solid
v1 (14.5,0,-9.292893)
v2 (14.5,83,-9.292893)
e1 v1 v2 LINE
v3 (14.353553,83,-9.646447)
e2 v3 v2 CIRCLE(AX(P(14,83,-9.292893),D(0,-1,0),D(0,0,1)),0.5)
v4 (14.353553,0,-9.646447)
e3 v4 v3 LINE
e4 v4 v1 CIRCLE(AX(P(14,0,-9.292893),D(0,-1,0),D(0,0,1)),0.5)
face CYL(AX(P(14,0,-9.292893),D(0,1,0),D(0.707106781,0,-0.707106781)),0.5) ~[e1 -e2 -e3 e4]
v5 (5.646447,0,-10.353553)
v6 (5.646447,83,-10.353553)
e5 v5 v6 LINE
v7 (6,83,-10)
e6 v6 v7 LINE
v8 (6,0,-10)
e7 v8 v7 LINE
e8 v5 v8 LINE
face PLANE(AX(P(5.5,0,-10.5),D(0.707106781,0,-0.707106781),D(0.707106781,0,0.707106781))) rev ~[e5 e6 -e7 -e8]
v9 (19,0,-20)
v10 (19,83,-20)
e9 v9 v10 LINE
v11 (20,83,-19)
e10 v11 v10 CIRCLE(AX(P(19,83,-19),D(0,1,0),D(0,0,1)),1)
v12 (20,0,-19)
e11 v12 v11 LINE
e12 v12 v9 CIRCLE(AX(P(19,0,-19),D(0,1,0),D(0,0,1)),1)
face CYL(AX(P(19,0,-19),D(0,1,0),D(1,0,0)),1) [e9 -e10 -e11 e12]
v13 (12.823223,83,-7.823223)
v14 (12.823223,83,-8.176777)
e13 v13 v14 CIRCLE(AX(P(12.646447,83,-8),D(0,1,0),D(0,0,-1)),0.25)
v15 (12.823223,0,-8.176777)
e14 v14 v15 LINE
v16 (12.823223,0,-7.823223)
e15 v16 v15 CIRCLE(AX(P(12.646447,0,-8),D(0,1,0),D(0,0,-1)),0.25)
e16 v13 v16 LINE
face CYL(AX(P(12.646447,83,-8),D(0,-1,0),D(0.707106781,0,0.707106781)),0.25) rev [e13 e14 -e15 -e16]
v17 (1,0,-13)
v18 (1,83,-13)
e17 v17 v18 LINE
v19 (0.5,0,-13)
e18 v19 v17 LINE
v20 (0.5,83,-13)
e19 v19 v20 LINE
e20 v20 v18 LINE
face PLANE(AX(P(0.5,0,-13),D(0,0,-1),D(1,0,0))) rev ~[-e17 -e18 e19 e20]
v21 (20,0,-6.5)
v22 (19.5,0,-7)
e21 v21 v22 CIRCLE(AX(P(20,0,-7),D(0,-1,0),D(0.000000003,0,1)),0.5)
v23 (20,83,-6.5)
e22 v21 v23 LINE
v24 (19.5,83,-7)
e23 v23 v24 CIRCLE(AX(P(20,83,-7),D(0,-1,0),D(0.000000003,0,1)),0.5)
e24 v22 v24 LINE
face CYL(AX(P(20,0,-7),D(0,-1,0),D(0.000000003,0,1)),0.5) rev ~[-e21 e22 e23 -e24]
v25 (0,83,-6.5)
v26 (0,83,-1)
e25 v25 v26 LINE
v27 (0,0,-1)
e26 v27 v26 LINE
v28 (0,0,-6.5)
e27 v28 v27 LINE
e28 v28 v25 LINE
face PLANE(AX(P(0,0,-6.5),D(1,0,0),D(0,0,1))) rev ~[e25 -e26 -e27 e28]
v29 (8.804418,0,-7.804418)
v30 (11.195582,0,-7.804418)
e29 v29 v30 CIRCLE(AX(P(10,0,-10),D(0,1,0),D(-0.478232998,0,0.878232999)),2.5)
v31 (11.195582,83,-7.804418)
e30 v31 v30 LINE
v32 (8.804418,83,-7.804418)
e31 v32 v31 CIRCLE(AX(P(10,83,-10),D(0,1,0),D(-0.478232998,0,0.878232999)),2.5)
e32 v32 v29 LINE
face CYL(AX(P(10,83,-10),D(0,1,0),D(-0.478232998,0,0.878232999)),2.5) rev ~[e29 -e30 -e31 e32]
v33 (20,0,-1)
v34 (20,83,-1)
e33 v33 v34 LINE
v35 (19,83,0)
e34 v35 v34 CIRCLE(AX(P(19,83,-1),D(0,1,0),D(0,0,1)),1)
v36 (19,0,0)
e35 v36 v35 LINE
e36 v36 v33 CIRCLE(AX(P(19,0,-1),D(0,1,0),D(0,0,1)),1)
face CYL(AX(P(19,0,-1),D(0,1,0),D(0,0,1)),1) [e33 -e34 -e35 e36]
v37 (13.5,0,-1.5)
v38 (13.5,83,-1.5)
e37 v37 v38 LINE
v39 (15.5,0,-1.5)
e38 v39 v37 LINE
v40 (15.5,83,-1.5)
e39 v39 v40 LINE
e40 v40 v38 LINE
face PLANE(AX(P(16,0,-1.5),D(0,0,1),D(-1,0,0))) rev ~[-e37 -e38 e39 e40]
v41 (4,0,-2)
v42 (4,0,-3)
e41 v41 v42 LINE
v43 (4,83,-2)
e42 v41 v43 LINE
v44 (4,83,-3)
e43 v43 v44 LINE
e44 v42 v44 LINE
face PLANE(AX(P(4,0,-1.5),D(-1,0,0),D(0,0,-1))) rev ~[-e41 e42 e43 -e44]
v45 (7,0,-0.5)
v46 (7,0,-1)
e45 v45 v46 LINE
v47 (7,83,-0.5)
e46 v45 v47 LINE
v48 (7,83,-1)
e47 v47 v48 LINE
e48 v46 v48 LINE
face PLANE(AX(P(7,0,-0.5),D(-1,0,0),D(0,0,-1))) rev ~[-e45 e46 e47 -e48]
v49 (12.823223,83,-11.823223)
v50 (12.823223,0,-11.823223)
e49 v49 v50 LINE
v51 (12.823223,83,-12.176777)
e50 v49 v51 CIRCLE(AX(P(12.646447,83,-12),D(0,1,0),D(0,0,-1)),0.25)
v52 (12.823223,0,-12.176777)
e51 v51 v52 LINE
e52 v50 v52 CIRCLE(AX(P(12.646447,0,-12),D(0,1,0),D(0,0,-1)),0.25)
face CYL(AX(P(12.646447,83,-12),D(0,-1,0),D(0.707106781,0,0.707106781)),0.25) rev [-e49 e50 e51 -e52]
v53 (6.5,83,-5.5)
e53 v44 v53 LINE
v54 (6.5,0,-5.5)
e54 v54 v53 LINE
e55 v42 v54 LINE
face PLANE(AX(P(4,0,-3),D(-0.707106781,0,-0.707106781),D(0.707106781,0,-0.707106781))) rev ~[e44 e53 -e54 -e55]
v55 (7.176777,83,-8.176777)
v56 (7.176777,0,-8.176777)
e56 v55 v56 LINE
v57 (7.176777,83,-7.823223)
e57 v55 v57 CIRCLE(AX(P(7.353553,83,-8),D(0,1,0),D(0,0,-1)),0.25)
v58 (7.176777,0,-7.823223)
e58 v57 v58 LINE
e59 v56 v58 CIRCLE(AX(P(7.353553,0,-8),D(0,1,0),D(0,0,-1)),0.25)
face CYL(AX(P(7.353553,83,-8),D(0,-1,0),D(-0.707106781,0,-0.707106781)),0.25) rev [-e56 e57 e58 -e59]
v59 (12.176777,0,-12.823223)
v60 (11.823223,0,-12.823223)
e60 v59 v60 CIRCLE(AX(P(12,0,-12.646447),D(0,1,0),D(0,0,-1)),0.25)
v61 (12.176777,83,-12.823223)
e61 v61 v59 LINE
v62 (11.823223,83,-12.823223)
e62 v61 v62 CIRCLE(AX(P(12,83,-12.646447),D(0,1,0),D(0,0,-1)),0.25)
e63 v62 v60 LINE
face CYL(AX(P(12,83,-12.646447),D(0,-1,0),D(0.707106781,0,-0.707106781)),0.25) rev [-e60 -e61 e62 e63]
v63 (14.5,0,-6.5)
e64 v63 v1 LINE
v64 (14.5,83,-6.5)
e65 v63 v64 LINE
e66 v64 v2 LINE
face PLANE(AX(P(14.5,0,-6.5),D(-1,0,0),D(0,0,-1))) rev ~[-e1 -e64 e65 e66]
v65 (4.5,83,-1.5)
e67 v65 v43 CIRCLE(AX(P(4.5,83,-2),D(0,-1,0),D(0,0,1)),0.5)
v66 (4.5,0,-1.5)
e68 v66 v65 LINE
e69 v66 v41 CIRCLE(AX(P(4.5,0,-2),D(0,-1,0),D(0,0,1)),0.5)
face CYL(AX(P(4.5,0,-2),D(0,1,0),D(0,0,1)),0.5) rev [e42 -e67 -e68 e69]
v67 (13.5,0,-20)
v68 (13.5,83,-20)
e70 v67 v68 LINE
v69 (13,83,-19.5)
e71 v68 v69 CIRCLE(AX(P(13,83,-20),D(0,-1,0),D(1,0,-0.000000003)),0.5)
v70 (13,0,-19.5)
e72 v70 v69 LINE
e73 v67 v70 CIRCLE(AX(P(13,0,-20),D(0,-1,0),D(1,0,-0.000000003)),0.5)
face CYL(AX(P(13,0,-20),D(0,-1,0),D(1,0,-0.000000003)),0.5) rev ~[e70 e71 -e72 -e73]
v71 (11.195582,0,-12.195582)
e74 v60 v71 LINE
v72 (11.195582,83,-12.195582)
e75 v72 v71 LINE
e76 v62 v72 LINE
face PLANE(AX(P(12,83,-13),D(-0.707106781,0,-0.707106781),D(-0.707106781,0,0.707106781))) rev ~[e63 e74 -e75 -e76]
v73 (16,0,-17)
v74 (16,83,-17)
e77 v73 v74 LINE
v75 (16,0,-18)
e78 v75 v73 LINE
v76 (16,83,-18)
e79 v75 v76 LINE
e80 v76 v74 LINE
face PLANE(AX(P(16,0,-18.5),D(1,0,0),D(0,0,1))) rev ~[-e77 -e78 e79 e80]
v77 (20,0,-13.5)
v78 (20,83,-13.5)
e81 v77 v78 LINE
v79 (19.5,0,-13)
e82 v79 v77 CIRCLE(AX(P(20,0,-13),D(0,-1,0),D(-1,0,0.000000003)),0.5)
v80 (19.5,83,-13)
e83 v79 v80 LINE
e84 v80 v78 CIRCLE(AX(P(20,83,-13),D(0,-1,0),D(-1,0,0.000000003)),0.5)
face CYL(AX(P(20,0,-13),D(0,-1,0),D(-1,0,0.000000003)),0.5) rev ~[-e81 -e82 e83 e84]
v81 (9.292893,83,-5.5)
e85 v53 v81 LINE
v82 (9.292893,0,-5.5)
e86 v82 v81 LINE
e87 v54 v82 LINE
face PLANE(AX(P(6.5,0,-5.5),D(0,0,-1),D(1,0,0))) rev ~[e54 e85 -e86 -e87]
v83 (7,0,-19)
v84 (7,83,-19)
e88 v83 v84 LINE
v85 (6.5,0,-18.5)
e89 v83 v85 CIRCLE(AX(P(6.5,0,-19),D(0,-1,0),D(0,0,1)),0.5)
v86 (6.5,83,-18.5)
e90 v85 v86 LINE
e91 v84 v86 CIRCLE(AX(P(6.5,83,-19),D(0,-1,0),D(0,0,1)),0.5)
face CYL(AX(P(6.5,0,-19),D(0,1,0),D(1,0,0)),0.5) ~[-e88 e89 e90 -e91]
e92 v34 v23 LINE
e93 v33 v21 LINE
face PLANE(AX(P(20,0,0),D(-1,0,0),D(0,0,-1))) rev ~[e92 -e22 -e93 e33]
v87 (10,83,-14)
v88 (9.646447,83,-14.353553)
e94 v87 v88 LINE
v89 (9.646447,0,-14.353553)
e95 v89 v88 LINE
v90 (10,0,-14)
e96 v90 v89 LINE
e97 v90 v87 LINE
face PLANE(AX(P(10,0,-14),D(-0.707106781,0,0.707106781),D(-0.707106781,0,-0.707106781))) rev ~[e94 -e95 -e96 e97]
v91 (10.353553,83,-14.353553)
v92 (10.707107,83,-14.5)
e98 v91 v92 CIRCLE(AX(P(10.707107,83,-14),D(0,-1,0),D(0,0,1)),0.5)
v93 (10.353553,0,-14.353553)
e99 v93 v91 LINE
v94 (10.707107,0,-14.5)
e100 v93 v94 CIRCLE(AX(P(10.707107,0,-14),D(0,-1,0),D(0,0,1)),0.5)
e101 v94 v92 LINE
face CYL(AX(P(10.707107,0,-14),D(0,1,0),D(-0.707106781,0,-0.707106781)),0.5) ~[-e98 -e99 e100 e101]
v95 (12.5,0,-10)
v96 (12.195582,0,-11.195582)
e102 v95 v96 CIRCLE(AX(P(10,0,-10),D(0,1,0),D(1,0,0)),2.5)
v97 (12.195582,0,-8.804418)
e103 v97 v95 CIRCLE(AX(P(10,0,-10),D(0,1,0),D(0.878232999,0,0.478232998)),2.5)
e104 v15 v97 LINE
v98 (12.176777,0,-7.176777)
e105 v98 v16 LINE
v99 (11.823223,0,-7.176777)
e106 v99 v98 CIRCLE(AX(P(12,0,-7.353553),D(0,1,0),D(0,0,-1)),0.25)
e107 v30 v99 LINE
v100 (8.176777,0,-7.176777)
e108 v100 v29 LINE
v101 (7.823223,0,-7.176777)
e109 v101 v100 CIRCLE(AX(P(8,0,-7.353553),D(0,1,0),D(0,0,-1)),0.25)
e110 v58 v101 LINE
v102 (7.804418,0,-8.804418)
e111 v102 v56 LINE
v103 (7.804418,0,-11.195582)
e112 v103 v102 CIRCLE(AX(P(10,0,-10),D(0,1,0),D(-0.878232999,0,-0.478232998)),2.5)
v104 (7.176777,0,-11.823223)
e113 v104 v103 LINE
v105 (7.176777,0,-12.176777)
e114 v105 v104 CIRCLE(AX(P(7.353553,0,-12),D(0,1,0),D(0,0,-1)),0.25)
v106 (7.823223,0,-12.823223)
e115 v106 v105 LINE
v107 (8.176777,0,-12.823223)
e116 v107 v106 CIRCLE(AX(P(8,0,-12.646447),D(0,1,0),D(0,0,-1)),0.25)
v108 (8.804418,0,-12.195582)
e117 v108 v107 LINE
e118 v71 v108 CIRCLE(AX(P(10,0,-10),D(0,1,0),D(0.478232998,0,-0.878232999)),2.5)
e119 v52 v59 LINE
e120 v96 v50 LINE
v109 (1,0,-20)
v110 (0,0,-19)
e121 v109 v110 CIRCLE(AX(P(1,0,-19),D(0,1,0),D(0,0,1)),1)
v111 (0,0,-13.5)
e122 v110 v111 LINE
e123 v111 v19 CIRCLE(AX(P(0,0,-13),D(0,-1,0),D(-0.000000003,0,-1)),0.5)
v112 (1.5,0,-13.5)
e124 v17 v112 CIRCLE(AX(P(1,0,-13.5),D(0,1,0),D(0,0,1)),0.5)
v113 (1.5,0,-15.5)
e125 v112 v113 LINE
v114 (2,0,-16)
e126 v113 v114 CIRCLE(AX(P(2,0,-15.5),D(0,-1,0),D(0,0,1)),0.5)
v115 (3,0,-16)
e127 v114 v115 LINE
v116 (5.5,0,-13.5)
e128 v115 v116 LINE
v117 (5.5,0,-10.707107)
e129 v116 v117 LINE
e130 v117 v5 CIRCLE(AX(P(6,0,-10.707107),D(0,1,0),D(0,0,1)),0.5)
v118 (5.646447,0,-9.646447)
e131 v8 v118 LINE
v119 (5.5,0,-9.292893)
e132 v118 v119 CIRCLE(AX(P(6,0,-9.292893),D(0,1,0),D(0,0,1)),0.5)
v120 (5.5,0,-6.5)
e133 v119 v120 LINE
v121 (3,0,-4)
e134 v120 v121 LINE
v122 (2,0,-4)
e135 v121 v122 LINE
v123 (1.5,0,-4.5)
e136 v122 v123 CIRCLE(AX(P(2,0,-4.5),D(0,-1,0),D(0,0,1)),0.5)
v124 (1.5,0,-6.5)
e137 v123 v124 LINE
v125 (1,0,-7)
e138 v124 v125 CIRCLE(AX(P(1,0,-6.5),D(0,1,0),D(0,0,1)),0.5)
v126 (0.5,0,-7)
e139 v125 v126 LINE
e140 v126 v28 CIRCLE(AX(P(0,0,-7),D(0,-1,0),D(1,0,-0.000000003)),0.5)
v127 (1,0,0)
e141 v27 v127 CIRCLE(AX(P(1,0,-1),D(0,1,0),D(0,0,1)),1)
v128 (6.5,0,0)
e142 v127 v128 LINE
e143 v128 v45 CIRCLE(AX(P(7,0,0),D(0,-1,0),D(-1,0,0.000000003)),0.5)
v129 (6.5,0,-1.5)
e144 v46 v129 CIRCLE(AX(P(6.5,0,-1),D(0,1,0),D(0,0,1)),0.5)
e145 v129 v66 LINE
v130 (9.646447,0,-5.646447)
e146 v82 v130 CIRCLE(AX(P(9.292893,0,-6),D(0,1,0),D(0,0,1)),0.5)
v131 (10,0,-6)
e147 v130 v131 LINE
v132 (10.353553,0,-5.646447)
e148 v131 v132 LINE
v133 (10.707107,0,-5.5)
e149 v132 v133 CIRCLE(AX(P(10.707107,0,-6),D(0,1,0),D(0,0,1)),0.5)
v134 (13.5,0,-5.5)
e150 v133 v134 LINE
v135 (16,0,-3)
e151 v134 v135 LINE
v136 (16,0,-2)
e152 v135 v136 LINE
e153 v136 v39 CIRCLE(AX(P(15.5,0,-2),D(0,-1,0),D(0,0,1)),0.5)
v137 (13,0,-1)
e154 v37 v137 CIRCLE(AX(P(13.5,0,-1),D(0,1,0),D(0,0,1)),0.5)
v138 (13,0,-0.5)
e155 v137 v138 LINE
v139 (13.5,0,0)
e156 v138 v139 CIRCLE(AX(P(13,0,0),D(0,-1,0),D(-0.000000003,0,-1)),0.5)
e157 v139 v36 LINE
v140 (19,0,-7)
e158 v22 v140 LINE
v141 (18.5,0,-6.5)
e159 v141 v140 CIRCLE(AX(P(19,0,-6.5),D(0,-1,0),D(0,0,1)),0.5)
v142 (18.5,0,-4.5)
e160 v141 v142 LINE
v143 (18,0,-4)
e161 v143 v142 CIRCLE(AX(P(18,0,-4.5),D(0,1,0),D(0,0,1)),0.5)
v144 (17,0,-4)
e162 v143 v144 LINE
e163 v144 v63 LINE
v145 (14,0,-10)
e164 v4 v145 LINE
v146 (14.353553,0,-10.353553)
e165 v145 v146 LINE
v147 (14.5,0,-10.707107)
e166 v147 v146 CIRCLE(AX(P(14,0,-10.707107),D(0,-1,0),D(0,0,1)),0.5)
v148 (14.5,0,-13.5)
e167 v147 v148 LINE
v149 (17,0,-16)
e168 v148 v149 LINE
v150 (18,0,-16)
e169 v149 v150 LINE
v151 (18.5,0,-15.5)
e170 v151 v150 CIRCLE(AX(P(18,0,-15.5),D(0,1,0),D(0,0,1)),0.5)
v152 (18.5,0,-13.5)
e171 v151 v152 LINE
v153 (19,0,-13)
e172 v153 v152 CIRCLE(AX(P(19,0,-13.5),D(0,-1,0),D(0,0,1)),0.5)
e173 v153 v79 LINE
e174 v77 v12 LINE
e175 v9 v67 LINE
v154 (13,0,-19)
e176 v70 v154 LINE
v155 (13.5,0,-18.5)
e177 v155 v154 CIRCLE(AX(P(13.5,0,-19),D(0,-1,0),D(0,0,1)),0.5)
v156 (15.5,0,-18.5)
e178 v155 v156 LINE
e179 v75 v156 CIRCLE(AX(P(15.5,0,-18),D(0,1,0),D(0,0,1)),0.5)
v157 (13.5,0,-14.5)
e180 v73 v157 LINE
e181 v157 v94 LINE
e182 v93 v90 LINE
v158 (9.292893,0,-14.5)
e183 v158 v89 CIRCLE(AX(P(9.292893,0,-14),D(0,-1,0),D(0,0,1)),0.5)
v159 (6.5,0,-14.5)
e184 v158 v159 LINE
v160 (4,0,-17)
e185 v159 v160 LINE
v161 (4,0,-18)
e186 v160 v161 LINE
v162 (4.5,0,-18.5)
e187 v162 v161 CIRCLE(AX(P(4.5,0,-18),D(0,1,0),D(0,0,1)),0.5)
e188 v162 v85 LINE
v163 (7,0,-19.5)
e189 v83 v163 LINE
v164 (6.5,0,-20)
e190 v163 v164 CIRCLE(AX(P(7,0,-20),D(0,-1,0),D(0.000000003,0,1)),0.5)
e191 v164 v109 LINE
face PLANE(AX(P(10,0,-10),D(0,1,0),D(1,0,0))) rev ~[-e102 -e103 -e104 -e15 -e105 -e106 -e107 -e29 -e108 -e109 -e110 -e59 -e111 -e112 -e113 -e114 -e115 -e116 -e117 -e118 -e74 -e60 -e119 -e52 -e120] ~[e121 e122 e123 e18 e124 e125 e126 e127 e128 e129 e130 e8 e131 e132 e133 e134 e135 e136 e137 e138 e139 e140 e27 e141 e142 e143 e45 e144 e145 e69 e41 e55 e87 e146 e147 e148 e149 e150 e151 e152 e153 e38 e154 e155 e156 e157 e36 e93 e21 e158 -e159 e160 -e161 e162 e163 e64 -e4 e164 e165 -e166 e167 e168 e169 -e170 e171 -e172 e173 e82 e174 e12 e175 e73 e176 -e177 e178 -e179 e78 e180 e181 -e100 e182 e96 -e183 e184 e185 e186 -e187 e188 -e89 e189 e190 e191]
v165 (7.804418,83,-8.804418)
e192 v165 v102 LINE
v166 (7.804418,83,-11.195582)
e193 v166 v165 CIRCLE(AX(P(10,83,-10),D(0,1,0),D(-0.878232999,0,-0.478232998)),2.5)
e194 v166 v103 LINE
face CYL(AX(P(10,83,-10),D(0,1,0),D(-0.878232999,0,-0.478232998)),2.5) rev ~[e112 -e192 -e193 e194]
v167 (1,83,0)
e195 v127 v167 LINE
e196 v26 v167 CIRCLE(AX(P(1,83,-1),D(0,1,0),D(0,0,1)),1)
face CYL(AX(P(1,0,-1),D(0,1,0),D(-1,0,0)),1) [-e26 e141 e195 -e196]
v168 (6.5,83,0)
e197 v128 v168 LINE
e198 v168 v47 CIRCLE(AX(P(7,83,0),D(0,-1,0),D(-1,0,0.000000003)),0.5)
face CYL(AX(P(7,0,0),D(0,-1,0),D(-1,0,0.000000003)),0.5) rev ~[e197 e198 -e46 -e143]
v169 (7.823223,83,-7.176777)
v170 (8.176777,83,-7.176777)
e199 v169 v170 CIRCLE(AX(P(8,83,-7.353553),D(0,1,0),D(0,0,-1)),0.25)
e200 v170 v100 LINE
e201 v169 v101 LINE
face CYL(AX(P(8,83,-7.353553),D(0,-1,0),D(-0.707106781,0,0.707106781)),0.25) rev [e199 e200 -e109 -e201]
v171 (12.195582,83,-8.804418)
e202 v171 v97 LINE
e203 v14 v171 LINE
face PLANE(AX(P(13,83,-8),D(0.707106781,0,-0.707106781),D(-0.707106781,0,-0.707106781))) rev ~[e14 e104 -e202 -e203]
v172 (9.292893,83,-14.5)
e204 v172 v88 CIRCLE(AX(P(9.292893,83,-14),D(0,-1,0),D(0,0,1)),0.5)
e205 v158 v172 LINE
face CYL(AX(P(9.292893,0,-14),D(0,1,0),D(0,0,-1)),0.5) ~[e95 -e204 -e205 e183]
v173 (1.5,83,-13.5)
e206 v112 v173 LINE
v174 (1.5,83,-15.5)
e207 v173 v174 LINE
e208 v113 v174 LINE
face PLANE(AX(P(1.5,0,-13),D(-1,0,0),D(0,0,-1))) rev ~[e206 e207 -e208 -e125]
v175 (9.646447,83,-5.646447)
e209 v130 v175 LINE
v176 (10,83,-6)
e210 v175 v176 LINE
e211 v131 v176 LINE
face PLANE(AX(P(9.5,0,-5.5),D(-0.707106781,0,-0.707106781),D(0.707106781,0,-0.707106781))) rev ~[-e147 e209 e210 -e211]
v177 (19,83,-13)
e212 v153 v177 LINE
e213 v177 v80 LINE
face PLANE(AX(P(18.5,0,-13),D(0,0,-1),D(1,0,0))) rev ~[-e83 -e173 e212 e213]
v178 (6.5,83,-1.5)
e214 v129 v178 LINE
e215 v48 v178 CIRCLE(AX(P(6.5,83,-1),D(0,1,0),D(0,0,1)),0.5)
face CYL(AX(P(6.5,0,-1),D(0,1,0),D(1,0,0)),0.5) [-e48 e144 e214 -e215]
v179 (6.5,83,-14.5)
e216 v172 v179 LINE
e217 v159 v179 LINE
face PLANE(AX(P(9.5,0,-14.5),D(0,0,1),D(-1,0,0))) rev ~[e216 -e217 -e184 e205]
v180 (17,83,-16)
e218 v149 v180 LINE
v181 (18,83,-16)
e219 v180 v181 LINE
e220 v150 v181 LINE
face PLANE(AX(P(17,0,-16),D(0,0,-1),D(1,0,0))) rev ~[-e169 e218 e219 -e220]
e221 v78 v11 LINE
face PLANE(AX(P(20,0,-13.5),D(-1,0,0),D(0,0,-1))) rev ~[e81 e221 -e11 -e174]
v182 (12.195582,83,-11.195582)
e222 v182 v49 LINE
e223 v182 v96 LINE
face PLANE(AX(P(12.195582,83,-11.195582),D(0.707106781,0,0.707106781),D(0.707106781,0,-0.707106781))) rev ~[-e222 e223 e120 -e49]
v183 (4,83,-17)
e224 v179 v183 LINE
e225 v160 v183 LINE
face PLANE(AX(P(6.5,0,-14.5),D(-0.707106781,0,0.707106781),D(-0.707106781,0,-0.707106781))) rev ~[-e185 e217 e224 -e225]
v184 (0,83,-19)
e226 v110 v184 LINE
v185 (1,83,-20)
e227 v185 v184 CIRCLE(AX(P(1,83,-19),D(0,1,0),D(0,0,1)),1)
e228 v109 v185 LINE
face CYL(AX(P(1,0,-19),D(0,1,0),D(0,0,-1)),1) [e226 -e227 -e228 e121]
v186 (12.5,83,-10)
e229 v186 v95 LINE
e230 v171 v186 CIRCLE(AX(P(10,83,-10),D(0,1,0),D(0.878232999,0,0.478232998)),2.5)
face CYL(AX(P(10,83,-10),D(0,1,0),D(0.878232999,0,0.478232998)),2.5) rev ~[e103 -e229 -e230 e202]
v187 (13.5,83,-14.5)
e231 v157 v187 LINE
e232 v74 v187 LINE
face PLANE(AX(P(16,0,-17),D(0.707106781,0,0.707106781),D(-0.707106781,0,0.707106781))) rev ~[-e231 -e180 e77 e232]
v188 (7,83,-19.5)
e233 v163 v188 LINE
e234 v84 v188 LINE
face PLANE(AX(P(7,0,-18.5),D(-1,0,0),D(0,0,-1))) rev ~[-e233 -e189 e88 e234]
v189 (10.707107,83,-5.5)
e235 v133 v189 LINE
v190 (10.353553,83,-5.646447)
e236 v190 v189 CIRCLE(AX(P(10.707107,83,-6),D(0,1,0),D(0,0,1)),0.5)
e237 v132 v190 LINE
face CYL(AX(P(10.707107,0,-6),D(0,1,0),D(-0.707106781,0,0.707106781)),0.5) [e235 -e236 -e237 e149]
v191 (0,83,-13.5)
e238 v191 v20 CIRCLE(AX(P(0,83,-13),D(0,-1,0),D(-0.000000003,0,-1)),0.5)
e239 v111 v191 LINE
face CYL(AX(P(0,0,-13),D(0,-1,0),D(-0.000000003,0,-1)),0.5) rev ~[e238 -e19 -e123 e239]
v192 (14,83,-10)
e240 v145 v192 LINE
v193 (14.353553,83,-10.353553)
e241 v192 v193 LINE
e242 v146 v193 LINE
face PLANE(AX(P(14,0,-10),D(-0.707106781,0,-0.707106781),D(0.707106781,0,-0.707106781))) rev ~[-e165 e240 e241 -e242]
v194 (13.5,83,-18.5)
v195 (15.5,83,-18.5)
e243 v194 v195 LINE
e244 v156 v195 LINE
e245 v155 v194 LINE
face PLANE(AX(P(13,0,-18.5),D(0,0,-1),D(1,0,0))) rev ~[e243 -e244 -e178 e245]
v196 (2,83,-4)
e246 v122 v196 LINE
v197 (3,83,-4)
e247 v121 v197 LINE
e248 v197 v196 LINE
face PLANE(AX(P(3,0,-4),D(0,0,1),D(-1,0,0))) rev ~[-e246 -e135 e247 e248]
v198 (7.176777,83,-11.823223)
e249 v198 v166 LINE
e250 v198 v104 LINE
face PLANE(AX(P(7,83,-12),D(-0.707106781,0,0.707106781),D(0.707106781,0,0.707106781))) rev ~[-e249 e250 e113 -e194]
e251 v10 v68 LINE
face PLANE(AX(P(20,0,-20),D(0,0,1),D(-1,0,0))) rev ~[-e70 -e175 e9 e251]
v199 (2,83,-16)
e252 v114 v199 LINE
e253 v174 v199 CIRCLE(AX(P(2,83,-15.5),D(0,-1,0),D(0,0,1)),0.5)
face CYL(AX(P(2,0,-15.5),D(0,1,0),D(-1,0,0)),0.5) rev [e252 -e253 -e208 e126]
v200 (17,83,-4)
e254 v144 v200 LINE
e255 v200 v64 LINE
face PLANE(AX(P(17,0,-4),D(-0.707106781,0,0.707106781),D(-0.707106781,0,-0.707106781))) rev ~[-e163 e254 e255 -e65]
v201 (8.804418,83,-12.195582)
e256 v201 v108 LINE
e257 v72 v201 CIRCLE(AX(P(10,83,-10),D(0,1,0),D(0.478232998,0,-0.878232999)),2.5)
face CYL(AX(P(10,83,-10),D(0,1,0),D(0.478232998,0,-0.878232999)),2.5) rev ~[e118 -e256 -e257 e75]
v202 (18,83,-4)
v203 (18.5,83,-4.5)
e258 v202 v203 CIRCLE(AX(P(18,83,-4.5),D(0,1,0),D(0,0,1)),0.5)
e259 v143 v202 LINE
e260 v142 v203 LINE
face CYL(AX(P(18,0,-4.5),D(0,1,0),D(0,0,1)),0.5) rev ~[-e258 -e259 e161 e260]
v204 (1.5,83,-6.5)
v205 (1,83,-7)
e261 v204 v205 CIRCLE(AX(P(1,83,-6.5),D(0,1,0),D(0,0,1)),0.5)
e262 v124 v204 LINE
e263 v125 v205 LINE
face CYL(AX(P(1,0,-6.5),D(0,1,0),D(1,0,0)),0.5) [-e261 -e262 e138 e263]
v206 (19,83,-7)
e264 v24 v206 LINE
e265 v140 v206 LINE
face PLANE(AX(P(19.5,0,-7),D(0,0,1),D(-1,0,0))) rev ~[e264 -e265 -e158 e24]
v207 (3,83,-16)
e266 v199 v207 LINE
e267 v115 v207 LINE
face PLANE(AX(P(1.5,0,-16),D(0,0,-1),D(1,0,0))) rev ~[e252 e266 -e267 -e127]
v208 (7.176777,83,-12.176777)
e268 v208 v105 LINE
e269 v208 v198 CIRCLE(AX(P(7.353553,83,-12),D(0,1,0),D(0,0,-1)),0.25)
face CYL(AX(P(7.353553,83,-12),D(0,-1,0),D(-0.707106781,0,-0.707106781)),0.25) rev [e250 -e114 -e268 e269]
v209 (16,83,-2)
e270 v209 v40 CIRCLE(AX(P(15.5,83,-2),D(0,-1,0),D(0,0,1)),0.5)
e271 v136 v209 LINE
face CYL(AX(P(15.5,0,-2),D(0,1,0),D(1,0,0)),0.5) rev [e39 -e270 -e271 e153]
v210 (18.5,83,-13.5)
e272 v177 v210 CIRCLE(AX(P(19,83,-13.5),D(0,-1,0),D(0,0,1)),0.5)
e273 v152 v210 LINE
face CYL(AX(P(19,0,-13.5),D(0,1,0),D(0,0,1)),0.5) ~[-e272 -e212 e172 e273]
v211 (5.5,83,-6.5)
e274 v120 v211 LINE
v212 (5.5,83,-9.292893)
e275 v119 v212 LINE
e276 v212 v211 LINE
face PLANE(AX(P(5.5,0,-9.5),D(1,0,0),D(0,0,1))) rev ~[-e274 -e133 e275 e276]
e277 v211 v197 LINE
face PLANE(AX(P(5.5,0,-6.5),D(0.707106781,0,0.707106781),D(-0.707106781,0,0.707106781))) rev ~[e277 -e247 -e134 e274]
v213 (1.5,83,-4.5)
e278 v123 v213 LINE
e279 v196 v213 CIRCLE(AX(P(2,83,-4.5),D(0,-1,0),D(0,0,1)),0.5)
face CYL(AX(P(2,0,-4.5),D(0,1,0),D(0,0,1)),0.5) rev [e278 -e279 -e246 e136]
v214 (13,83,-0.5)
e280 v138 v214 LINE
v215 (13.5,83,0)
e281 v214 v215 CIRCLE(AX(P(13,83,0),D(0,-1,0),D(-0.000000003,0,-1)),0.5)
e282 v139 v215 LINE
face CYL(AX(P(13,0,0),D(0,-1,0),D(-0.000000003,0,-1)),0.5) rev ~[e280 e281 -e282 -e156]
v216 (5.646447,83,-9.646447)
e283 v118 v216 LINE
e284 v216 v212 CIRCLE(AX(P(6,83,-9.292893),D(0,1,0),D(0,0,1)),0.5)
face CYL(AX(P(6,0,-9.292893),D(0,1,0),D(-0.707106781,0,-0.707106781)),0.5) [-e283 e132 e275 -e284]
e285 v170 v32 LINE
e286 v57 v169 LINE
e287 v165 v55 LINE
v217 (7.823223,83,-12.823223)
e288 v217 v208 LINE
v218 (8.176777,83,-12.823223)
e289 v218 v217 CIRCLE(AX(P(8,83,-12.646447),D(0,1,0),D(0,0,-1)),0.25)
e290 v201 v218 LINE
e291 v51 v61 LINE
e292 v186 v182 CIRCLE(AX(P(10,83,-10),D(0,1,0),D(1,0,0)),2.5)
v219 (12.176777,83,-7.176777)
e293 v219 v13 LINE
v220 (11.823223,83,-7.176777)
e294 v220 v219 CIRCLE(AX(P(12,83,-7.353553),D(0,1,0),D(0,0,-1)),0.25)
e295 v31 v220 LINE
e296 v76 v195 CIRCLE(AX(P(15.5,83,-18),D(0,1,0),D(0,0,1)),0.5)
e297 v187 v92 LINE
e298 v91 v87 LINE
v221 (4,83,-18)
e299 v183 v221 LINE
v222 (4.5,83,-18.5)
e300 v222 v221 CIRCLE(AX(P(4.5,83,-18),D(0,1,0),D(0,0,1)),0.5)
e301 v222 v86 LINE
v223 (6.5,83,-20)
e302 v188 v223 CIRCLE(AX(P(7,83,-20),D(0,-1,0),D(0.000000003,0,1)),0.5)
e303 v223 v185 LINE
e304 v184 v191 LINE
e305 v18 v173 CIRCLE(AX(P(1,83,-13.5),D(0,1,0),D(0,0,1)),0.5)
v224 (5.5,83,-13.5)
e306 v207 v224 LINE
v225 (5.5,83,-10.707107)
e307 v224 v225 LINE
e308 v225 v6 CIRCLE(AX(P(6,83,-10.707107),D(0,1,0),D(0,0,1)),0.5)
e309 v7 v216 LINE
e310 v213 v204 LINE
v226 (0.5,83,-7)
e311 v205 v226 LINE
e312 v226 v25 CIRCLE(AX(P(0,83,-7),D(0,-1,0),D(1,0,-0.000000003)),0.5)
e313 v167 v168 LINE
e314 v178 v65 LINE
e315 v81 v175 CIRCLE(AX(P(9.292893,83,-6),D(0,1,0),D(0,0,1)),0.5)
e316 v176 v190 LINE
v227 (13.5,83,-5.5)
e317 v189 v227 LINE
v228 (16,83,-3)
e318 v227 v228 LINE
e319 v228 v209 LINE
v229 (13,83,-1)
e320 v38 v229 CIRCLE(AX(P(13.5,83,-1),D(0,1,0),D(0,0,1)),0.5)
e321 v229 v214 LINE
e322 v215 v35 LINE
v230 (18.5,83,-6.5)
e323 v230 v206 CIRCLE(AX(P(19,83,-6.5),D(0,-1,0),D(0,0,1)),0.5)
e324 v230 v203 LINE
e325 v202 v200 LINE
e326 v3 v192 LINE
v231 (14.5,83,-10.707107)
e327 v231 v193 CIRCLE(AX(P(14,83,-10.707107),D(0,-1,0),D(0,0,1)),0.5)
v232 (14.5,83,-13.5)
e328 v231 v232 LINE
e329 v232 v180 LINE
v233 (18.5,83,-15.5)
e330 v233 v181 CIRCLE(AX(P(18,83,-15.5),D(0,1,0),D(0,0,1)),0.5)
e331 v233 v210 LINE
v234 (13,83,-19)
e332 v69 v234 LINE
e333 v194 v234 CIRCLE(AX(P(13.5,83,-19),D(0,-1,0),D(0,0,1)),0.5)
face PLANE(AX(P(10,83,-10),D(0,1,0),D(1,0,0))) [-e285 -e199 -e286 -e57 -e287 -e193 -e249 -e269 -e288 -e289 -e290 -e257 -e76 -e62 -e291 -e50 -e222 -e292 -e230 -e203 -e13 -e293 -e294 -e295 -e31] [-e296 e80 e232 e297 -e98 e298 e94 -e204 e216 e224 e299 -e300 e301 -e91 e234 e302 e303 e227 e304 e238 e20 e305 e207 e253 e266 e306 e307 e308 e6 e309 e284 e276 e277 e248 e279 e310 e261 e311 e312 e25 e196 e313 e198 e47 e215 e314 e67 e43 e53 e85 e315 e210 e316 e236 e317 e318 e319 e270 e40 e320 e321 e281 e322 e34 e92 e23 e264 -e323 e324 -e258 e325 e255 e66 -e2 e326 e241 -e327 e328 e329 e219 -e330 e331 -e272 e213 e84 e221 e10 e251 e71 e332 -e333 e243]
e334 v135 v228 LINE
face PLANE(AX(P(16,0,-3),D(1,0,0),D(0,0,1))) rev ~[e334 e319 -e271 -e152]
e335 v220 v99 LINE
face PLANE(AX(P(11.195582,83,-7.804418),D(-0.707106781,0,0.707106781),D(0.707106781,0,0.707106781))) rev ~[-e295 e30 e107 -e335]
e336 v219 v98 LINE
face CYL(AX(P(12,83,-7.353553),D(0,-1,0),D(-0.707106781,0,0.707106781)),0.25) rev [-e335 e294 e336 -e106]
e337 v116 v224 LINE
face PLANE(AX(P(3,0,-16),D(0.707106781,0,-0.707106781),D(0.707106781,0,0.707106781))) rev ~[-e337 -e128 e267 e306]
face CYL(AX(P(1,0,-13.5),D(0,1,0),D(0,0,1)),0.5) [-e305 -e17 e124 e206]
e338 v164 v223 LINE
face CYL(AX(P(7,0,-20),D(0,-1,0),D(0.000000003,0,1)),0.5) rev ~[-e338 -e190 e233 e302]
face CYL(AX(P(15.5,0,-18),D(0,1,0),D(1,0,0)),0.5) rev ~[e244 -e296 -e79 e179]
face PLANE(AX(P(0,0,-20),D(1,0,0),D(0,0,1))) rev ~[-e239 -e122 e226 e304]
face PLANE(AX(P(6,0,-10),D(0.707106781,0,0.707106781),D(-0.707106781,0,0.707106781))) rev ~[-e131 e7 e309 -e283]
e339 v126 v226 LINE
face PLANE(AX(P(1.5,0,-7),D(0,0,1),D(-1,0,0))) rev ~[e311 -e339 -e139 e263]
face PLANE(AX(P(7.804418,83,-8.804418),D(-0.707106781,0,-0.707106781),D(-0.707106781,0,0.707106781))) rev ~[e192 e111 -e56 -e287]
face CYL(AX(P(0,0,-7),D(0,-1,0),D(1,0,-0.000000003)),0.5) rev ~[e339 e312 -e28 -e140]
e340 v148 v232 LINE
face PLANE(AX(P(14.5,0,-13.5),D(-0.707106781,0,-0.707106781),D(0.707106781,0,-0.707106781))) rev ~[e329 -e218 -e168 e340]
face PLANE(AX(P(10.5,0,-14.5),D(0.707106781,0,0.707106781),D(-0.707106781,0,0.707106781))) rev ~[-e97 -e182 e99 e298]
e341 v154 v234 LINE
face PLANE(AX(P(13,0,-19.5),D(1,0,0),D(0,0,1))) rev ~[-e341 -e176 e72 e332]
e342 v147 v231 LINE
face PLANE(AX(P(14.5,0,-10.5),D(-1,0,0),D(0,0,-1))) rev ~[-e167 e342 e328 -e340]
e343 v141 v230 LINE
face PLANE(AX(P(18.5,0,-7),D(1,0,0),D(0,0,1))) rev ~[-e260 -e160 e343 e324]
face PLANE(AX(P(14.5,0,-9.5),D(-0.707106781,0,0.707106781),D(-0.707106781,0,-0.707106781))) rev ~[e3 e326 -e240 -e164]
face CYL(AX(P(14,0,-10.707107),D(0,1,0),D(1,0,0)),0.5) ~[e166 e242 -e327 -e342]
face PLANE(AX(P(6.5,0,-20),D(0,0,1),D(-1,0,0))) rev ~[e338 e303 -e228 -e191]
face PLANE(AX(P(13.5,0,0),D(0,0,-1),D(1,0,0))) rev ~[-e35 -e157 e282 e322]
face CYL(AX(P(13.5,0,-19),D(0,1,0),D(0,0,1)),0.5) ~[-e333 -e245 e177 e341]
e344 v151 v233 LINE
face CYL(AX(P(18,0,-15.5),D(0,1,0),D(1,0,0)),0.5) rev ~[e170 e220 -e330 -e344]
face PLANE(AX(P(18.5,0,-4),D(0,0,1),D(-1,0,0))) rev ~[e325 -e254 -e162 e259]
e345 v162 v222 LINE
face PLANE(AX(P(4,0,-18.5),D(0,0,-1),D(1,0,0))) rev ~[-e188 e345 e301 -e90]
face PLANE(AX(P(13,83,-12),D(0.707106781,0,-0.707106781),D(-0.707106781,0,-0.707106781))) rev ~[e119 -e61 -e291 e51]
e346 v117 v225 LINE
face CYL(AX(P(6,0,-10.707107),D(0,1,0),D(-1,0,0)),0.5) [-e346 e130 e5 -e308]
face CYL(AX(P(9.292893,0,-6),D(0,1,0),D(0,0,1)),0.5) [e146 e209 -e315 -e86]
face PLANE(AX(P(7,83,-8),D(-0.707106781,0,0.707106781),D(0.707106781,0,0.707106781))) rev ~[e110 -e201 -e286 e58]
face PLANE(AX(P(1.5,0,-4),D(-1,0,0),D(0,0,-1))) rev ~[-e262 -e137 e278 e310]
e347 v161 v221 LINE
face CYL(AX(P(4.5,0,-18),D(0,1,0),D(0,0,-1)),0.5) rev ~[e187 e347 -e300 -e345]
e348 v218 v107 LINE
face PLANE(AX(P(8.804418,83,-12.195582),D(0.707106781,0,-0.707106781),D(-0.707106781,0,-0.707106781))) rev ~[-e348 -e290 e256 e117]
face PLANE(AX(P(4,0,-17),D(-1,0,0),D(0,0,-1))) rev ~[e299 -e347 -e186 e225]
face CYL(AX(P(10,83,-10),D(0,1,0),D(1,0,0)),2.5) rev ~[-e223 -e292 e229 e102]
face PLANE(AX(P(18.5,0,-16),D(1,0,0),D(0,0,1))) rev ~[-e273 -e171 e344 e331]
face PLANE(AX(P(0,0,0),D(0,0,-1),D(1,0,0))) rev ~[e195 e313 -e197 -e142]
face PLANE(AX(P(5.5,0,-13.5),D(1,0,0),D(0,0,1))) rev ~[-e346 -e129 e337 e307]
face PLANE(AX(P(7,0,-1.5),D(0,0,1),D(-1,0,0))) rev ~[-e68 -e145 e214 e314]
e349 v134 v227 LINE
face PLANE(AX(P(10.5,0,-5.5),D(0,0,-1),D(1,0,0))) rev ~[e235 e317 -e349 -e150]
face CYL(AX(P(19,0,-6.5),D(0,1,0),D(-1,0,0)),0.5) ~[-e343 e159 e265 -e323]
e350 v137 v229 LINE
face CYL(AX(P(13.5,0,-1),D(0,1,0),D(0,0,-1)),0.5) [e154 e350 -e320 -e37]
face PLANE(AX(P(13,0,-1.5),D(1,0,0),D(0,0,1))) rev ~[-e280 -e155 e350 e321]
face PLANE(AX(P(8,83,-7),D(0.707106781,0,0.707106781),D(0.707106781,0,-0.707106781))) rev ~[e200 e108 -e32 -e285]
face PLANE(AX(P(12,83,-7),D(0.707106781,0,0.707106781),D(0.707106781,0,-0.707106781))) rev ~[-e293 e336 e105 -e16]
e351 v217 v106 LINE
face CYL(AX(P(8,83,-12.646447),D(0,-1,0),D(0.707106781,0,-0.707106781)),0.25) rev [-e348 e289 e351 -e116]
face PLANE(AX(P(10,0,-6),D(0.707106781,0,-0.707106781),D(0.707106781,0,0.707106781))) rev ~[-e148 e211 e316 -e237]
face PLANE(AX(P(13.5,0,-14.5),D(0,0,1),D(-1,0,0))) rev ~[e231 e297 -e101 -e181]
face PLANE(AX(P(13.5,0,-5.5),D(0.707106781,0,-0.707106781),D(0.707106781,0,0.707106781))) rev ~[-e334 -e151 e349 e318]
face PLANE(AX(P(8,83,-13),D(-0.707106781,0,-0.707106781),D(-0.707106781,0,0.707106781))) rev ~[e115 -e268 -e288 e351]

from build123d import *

# Parameters (mm, degrees)
BOSS_EXTRUDE1_DEPTH = 83
FILLET1_R           = 1
CUT_EXTRUDE1_DEPTH  = 84
FILLET2_R           = 0.5
FILLET3_R           = 0.25


with BuildPart() as part:
    # Sketch3 → Boss-Extrude1 (new body)
    with BuildSketch(Plane(origin=(0, 0, 0), x_dir=(1, 0, 0), z_dir=(0, 1, 0))):
        with BuildLine():
            Line((7, 18.5), (7, 19.5))
            ThreePointArc((7, 19.5), (6.646446609, 19.646446609), (6.5, 20))
            Line((6.5, 20), (0, 20))
            Line((0, 20), (0, 13.5))
            ThreePointArc((0, 13.5), (0.353553391, 13.353553391), (0.5, 13))
            Line((0.5, 13), (1.5, 13))
            Line((1.5, 13), (1.5, 16))
            Line((1.5, 16), (3, 16))
            Line((3, 16), (5.5, 13.5))
            Line((5.5, 13.5), (5.5, 10.5))
            Line((5.5, 10.5), (6, 10))
            Line((6, 10), (5.5, 9.5))
            Line((5.5, 9.5), (5.5, 6.5))
            Line((5.5, 6.5), (3, 4))
            Line((3, 4), (1.5, 4))
            Line((1.5, 4), (1.5, 7))
            Line((1.5, 7), (0.5, 7))
            ThreePointArc((0.5, 7), (0.353553391, 6.646446609), (0, 6.5))
            Line((0, 6.5), (0, 0))
            Line((0, 0), (6.5, 0))
            ThreePointArc((6.5, 0), (6.646446609, 0.353553391), (7, 0.5))
            Line((7, 0.5), (7, 1.5))
            Line((7, 1.5), (4, 1.5))
            Line((4, 1.5), (4, 3))
            Line((4, 3), (6.5, 5.5))
            Line((6.5, 5.5), (9.5, 5.5))
            Line((9.5, 5.5), (10, 6))
            Line((10, 6), (10.5, 5.5))
            Line((10.5, 5.5), (13.5, 5.5))
            Line((13.5, 5.5), (16, 3))
            Line((16, 3), (16, 1.5))
            Line((16, 1.5), (13, 1.5))
            Line((13, 1.5), (13, 0.5))
            ThreePointArc((13, 0.5), (13.353553391, 0.353553391), (13.5, 0))
            Line((13.5, 0), (20, 0))
            Line((20, 0), (20, 6.5))
            ThreePointArc((20, 6.5), (19.646446609, 6.646446609), (19.5, 7))
            Line((19.5, 7), (18.5, 7))
            Line((18.5, 7), (18.5, 4))
            Line((18.5, 4), (17, 4))
            Line((17, 4), (14.5, 6.5))
            Line((14.5, 6.5), (14.5, 9.5))
            Line((14.5, 9.5), (14, 10))
            Line((14, 10), (14.5, 10.5))
            Line((14.5, 10.5), (14.5, 13.5))
            Line((14.5, 13.5), (17, 16))
            Line((17, 16), (18.5, 16))
            Line((18.5, 16), (18.5, 13))
            Line((18.5, 13), (19.5, 13))
            ThreePointArc((19.5, 13), (19.646446609, 13.353553391), (20, 13.5))
            Line((20, 13.5), (20, 20))
            Line((20, 20), (13.5, 20))
            ThreePointArc((13.5, 20), (13.353553391, 19.646446609), (13, 19.5))
            Line((13, 19.5), (13, 18.5))
            Line((13, 18.5), (16, 18.5))
            Line((16, 18.5), (16, 17))
            Line((16, 17), (13.5, 14.5))
            Line((13.5, 14.5), (10.5, 14.5))
            Line((10.5, 14.5), (10, 14))
            Line((10, 14), (9.5, 14.5))
            Line((9.5, 14.5), (6.5, 14.5))
            Line((6.5, 14.5), (4, 17))
            Line((4, 17), (4, 18.5))
            Line((4, 18.5), (7, 18.5))
        make_face()
    extrude(amount=BOSS_EXTRUDE1_DEPTH)

    # Fillet1
    fillet1_edges = [part.edges().sort_by_distance(p)[0] for p in [
        (20, 41.5, 0),
        (0, 41.5, 0),
        (0, 41.5, -20),
        (20, 41.5, -20),
    ]]
    fillet(fillet1_edges, radius=FILLET1_R)

    # Sketch4 → Cut-Extrude1 (cut, through all)
    with BuildSketch(Plane(origin=(0, 83, 0), x_dir=(1, 0, 0), z_dir=(0, 1, 0))):
        with BuildLine():
            Line((10, 11), (11.195582496, 12.195582496))
            ThreePointArc((11.195582496, 12.195582496), (10, 12.5), (8.804417504, 12.195582496))
            Line((8.804417504, 12.195582496), (10, 11))
        make_face()
        with BuildLine():
            ThreePointArc((12.195582496, 11.195582496), (11.767766953, 11.767766953), (11.195582496, 12.195582496))
            Line((11.195582496, 12.195582496), (10, 11))
            Line((10, 11), (11, 10))
            Line((11, 10), (12.195582496, 11.195582496))
        make_face()
        with BuildLine():
            Line((9, 10), (10, 11))
            Line((10, 11), (8.804417504, 12.195582496))
            ThreePointArc((8.804417504, 12.195582496), (8.232233047, 11.767766953), (7.804417504, 11.195582496))
            Line((7.804417504, 11.195582496), (9, 10))
        make_face()
        Polygon((11, 10), (10, 11), (9, 10), (10, 9), align=None)
        with BuildLine():
            Line((7.804417504, 8.804417504), (9, 10))
            Line((9, 10), (7.804417504, 11.195582496))
            ThreePointArc((7.804417504, 11.195582496), (7.5, 10), (7.804417504, 8.804417504))
        make_face()
        with BuildLine():
            Line((10, 9), (9, 10))
            Line((9, 10), (7.804417504, 8.804417504))
            ThreePointArc((7.804417504, 8.804417504), (8.232233047, 8.232233047), (8.804417504, 7.804417504))
            Line((8.804417504, 7.804417504), (10, 9))
        make_face()
        with BuildLine():
            Line((11.195582496, 7.804417504), (10, 9))
            Line((10, 9), (8.804417504, 7.804417504))
            ThreePointArc((8.804417504, 7.804417504), (10, 7.5), (11.195582496, 7.804417504))
        make_face()
        with BuildLine():
            Line((12.195582496, 8.804417504), (11, 10))
            Line((11, 10), (10, 9))
            Line((10, 9), (11.195582496, 7.804417504))
            ThreePointArc((11.195582496, 7.804417504), (11.767766953, 8.232233047), (12.195582496, 8.804417504))
        make_face()
        with BuildLine():
            ThreePointArc((12.5, 10), (12.422700584, 10.616864556), (12.195582496, 11.195582496))
            Line((12.195582496, 11.195582496), (11, 10))
            Line((11, 10), (12.195582496, 8.804417504))
            ThreePointArc((12.195582496, 8.804417504), (12.422700584, 9.383135444), (12.5, 10))
        make_face()
        with BuildLine():
            ThreePointArc((8.804417504, 7.804417504), (8.232233047, 8.232233047), (7.804417504, 8.804417504))
            Line((7.804417504, 8.804417504), (7, 8))
            Line((7, 8), (8, 7))
            Line((8, 7), (8.804417504, 7.804417504))
        make_face()
        with BuildLine():
            Line((13, 8), (12.195582496, 8.804417504))
            ThreePointArc((12.195582496, 8.804417504), (11.767766953, 8.232233047), (11.195582496, 7.804417504))
            Line((11.195582496, 7.804417504), (12, 7))
            Line((12, 7), (13, 8))
        make_face()
        with BuildLine():
            Line((13, 12), (12, 13))
            Line((12, 13), (11.195582496, 12.195582496))
            ThreePointArc((11.195582496, 12.195582496), (11.767766953, 11.767766953), (12.195582496, 11.195582496))
            Line((12.195582496, 11.195582496), (13, 12))
        make_face()
        with BuildLine():
            ThreePointArc((7.804417504, 11.195582496), (8.232233047, 11.767766953), (8.804417504, 12.195582496))
            Line((8.804417504, 12.195582496), (8, 13))
            Line((8, 13), (7, 12))
            Line((7, 12), (7.804417504, 11.195582496))
        make_face()
    extrude(amount=-CUT_EXTRUDE1_DEPTH, mode=Mode.SUBTRACT)

    # Fillet2
    fillet2_edges = [part.edges().sort_by_distance(p)[0] for p in [
        (18.5, 41.5, -13),
        (18.5, 41.5, -16),
        (14.5, 41.5, -10.5),
        (14.5, 41.5, -9.5),
        (18.5, 41.5, -4),
        (18.5, 41.5, -7),
        (13, 41.5, -1.5),
        (16, 41.5, -1.5),
        (10.5, 41.5, -5.5),
        (9.5, 41.5, -5.5),
        (4, 41.5, -1.5),
        (7, 41.5, -1.5),
        (1.5, 41.5, -7),
        (1.5, 41.5, -4),
        (5.5, 41.5, -9.5),
        (5.5, 41.5, -10.5),
        (1.5, 41.5, -16),
        (1.5, 41.5, -13),
        (7, 41.5, -18.5),
        (4, 41.5, -18.5),
        (9.5, 41.5, -14.5),
        (10.5, 41.5, -14.5),
        (16, 41.5, -18.5),
        (13, 41.5, -18.5),
    ]]
    fillet(fillet2_edges, radius=FILLET2_R)

    # Fillet3
    fillet3_edges = [part.edges().sort_by_distance(p)[0] for p in [
        (7, 41.5, -12),
        (8, 41.5, -13),
        (12, 41.5, -13),
        (13, 41.5, -12),
        (13, 41.5, -8),
        (12, 41.5, -7),
        (8, 41.5, -7),
        (7, 41.5, -8),
    ]]
    fillet(fillet3_edges, radius=FILLET3_R)


solid = part.part
